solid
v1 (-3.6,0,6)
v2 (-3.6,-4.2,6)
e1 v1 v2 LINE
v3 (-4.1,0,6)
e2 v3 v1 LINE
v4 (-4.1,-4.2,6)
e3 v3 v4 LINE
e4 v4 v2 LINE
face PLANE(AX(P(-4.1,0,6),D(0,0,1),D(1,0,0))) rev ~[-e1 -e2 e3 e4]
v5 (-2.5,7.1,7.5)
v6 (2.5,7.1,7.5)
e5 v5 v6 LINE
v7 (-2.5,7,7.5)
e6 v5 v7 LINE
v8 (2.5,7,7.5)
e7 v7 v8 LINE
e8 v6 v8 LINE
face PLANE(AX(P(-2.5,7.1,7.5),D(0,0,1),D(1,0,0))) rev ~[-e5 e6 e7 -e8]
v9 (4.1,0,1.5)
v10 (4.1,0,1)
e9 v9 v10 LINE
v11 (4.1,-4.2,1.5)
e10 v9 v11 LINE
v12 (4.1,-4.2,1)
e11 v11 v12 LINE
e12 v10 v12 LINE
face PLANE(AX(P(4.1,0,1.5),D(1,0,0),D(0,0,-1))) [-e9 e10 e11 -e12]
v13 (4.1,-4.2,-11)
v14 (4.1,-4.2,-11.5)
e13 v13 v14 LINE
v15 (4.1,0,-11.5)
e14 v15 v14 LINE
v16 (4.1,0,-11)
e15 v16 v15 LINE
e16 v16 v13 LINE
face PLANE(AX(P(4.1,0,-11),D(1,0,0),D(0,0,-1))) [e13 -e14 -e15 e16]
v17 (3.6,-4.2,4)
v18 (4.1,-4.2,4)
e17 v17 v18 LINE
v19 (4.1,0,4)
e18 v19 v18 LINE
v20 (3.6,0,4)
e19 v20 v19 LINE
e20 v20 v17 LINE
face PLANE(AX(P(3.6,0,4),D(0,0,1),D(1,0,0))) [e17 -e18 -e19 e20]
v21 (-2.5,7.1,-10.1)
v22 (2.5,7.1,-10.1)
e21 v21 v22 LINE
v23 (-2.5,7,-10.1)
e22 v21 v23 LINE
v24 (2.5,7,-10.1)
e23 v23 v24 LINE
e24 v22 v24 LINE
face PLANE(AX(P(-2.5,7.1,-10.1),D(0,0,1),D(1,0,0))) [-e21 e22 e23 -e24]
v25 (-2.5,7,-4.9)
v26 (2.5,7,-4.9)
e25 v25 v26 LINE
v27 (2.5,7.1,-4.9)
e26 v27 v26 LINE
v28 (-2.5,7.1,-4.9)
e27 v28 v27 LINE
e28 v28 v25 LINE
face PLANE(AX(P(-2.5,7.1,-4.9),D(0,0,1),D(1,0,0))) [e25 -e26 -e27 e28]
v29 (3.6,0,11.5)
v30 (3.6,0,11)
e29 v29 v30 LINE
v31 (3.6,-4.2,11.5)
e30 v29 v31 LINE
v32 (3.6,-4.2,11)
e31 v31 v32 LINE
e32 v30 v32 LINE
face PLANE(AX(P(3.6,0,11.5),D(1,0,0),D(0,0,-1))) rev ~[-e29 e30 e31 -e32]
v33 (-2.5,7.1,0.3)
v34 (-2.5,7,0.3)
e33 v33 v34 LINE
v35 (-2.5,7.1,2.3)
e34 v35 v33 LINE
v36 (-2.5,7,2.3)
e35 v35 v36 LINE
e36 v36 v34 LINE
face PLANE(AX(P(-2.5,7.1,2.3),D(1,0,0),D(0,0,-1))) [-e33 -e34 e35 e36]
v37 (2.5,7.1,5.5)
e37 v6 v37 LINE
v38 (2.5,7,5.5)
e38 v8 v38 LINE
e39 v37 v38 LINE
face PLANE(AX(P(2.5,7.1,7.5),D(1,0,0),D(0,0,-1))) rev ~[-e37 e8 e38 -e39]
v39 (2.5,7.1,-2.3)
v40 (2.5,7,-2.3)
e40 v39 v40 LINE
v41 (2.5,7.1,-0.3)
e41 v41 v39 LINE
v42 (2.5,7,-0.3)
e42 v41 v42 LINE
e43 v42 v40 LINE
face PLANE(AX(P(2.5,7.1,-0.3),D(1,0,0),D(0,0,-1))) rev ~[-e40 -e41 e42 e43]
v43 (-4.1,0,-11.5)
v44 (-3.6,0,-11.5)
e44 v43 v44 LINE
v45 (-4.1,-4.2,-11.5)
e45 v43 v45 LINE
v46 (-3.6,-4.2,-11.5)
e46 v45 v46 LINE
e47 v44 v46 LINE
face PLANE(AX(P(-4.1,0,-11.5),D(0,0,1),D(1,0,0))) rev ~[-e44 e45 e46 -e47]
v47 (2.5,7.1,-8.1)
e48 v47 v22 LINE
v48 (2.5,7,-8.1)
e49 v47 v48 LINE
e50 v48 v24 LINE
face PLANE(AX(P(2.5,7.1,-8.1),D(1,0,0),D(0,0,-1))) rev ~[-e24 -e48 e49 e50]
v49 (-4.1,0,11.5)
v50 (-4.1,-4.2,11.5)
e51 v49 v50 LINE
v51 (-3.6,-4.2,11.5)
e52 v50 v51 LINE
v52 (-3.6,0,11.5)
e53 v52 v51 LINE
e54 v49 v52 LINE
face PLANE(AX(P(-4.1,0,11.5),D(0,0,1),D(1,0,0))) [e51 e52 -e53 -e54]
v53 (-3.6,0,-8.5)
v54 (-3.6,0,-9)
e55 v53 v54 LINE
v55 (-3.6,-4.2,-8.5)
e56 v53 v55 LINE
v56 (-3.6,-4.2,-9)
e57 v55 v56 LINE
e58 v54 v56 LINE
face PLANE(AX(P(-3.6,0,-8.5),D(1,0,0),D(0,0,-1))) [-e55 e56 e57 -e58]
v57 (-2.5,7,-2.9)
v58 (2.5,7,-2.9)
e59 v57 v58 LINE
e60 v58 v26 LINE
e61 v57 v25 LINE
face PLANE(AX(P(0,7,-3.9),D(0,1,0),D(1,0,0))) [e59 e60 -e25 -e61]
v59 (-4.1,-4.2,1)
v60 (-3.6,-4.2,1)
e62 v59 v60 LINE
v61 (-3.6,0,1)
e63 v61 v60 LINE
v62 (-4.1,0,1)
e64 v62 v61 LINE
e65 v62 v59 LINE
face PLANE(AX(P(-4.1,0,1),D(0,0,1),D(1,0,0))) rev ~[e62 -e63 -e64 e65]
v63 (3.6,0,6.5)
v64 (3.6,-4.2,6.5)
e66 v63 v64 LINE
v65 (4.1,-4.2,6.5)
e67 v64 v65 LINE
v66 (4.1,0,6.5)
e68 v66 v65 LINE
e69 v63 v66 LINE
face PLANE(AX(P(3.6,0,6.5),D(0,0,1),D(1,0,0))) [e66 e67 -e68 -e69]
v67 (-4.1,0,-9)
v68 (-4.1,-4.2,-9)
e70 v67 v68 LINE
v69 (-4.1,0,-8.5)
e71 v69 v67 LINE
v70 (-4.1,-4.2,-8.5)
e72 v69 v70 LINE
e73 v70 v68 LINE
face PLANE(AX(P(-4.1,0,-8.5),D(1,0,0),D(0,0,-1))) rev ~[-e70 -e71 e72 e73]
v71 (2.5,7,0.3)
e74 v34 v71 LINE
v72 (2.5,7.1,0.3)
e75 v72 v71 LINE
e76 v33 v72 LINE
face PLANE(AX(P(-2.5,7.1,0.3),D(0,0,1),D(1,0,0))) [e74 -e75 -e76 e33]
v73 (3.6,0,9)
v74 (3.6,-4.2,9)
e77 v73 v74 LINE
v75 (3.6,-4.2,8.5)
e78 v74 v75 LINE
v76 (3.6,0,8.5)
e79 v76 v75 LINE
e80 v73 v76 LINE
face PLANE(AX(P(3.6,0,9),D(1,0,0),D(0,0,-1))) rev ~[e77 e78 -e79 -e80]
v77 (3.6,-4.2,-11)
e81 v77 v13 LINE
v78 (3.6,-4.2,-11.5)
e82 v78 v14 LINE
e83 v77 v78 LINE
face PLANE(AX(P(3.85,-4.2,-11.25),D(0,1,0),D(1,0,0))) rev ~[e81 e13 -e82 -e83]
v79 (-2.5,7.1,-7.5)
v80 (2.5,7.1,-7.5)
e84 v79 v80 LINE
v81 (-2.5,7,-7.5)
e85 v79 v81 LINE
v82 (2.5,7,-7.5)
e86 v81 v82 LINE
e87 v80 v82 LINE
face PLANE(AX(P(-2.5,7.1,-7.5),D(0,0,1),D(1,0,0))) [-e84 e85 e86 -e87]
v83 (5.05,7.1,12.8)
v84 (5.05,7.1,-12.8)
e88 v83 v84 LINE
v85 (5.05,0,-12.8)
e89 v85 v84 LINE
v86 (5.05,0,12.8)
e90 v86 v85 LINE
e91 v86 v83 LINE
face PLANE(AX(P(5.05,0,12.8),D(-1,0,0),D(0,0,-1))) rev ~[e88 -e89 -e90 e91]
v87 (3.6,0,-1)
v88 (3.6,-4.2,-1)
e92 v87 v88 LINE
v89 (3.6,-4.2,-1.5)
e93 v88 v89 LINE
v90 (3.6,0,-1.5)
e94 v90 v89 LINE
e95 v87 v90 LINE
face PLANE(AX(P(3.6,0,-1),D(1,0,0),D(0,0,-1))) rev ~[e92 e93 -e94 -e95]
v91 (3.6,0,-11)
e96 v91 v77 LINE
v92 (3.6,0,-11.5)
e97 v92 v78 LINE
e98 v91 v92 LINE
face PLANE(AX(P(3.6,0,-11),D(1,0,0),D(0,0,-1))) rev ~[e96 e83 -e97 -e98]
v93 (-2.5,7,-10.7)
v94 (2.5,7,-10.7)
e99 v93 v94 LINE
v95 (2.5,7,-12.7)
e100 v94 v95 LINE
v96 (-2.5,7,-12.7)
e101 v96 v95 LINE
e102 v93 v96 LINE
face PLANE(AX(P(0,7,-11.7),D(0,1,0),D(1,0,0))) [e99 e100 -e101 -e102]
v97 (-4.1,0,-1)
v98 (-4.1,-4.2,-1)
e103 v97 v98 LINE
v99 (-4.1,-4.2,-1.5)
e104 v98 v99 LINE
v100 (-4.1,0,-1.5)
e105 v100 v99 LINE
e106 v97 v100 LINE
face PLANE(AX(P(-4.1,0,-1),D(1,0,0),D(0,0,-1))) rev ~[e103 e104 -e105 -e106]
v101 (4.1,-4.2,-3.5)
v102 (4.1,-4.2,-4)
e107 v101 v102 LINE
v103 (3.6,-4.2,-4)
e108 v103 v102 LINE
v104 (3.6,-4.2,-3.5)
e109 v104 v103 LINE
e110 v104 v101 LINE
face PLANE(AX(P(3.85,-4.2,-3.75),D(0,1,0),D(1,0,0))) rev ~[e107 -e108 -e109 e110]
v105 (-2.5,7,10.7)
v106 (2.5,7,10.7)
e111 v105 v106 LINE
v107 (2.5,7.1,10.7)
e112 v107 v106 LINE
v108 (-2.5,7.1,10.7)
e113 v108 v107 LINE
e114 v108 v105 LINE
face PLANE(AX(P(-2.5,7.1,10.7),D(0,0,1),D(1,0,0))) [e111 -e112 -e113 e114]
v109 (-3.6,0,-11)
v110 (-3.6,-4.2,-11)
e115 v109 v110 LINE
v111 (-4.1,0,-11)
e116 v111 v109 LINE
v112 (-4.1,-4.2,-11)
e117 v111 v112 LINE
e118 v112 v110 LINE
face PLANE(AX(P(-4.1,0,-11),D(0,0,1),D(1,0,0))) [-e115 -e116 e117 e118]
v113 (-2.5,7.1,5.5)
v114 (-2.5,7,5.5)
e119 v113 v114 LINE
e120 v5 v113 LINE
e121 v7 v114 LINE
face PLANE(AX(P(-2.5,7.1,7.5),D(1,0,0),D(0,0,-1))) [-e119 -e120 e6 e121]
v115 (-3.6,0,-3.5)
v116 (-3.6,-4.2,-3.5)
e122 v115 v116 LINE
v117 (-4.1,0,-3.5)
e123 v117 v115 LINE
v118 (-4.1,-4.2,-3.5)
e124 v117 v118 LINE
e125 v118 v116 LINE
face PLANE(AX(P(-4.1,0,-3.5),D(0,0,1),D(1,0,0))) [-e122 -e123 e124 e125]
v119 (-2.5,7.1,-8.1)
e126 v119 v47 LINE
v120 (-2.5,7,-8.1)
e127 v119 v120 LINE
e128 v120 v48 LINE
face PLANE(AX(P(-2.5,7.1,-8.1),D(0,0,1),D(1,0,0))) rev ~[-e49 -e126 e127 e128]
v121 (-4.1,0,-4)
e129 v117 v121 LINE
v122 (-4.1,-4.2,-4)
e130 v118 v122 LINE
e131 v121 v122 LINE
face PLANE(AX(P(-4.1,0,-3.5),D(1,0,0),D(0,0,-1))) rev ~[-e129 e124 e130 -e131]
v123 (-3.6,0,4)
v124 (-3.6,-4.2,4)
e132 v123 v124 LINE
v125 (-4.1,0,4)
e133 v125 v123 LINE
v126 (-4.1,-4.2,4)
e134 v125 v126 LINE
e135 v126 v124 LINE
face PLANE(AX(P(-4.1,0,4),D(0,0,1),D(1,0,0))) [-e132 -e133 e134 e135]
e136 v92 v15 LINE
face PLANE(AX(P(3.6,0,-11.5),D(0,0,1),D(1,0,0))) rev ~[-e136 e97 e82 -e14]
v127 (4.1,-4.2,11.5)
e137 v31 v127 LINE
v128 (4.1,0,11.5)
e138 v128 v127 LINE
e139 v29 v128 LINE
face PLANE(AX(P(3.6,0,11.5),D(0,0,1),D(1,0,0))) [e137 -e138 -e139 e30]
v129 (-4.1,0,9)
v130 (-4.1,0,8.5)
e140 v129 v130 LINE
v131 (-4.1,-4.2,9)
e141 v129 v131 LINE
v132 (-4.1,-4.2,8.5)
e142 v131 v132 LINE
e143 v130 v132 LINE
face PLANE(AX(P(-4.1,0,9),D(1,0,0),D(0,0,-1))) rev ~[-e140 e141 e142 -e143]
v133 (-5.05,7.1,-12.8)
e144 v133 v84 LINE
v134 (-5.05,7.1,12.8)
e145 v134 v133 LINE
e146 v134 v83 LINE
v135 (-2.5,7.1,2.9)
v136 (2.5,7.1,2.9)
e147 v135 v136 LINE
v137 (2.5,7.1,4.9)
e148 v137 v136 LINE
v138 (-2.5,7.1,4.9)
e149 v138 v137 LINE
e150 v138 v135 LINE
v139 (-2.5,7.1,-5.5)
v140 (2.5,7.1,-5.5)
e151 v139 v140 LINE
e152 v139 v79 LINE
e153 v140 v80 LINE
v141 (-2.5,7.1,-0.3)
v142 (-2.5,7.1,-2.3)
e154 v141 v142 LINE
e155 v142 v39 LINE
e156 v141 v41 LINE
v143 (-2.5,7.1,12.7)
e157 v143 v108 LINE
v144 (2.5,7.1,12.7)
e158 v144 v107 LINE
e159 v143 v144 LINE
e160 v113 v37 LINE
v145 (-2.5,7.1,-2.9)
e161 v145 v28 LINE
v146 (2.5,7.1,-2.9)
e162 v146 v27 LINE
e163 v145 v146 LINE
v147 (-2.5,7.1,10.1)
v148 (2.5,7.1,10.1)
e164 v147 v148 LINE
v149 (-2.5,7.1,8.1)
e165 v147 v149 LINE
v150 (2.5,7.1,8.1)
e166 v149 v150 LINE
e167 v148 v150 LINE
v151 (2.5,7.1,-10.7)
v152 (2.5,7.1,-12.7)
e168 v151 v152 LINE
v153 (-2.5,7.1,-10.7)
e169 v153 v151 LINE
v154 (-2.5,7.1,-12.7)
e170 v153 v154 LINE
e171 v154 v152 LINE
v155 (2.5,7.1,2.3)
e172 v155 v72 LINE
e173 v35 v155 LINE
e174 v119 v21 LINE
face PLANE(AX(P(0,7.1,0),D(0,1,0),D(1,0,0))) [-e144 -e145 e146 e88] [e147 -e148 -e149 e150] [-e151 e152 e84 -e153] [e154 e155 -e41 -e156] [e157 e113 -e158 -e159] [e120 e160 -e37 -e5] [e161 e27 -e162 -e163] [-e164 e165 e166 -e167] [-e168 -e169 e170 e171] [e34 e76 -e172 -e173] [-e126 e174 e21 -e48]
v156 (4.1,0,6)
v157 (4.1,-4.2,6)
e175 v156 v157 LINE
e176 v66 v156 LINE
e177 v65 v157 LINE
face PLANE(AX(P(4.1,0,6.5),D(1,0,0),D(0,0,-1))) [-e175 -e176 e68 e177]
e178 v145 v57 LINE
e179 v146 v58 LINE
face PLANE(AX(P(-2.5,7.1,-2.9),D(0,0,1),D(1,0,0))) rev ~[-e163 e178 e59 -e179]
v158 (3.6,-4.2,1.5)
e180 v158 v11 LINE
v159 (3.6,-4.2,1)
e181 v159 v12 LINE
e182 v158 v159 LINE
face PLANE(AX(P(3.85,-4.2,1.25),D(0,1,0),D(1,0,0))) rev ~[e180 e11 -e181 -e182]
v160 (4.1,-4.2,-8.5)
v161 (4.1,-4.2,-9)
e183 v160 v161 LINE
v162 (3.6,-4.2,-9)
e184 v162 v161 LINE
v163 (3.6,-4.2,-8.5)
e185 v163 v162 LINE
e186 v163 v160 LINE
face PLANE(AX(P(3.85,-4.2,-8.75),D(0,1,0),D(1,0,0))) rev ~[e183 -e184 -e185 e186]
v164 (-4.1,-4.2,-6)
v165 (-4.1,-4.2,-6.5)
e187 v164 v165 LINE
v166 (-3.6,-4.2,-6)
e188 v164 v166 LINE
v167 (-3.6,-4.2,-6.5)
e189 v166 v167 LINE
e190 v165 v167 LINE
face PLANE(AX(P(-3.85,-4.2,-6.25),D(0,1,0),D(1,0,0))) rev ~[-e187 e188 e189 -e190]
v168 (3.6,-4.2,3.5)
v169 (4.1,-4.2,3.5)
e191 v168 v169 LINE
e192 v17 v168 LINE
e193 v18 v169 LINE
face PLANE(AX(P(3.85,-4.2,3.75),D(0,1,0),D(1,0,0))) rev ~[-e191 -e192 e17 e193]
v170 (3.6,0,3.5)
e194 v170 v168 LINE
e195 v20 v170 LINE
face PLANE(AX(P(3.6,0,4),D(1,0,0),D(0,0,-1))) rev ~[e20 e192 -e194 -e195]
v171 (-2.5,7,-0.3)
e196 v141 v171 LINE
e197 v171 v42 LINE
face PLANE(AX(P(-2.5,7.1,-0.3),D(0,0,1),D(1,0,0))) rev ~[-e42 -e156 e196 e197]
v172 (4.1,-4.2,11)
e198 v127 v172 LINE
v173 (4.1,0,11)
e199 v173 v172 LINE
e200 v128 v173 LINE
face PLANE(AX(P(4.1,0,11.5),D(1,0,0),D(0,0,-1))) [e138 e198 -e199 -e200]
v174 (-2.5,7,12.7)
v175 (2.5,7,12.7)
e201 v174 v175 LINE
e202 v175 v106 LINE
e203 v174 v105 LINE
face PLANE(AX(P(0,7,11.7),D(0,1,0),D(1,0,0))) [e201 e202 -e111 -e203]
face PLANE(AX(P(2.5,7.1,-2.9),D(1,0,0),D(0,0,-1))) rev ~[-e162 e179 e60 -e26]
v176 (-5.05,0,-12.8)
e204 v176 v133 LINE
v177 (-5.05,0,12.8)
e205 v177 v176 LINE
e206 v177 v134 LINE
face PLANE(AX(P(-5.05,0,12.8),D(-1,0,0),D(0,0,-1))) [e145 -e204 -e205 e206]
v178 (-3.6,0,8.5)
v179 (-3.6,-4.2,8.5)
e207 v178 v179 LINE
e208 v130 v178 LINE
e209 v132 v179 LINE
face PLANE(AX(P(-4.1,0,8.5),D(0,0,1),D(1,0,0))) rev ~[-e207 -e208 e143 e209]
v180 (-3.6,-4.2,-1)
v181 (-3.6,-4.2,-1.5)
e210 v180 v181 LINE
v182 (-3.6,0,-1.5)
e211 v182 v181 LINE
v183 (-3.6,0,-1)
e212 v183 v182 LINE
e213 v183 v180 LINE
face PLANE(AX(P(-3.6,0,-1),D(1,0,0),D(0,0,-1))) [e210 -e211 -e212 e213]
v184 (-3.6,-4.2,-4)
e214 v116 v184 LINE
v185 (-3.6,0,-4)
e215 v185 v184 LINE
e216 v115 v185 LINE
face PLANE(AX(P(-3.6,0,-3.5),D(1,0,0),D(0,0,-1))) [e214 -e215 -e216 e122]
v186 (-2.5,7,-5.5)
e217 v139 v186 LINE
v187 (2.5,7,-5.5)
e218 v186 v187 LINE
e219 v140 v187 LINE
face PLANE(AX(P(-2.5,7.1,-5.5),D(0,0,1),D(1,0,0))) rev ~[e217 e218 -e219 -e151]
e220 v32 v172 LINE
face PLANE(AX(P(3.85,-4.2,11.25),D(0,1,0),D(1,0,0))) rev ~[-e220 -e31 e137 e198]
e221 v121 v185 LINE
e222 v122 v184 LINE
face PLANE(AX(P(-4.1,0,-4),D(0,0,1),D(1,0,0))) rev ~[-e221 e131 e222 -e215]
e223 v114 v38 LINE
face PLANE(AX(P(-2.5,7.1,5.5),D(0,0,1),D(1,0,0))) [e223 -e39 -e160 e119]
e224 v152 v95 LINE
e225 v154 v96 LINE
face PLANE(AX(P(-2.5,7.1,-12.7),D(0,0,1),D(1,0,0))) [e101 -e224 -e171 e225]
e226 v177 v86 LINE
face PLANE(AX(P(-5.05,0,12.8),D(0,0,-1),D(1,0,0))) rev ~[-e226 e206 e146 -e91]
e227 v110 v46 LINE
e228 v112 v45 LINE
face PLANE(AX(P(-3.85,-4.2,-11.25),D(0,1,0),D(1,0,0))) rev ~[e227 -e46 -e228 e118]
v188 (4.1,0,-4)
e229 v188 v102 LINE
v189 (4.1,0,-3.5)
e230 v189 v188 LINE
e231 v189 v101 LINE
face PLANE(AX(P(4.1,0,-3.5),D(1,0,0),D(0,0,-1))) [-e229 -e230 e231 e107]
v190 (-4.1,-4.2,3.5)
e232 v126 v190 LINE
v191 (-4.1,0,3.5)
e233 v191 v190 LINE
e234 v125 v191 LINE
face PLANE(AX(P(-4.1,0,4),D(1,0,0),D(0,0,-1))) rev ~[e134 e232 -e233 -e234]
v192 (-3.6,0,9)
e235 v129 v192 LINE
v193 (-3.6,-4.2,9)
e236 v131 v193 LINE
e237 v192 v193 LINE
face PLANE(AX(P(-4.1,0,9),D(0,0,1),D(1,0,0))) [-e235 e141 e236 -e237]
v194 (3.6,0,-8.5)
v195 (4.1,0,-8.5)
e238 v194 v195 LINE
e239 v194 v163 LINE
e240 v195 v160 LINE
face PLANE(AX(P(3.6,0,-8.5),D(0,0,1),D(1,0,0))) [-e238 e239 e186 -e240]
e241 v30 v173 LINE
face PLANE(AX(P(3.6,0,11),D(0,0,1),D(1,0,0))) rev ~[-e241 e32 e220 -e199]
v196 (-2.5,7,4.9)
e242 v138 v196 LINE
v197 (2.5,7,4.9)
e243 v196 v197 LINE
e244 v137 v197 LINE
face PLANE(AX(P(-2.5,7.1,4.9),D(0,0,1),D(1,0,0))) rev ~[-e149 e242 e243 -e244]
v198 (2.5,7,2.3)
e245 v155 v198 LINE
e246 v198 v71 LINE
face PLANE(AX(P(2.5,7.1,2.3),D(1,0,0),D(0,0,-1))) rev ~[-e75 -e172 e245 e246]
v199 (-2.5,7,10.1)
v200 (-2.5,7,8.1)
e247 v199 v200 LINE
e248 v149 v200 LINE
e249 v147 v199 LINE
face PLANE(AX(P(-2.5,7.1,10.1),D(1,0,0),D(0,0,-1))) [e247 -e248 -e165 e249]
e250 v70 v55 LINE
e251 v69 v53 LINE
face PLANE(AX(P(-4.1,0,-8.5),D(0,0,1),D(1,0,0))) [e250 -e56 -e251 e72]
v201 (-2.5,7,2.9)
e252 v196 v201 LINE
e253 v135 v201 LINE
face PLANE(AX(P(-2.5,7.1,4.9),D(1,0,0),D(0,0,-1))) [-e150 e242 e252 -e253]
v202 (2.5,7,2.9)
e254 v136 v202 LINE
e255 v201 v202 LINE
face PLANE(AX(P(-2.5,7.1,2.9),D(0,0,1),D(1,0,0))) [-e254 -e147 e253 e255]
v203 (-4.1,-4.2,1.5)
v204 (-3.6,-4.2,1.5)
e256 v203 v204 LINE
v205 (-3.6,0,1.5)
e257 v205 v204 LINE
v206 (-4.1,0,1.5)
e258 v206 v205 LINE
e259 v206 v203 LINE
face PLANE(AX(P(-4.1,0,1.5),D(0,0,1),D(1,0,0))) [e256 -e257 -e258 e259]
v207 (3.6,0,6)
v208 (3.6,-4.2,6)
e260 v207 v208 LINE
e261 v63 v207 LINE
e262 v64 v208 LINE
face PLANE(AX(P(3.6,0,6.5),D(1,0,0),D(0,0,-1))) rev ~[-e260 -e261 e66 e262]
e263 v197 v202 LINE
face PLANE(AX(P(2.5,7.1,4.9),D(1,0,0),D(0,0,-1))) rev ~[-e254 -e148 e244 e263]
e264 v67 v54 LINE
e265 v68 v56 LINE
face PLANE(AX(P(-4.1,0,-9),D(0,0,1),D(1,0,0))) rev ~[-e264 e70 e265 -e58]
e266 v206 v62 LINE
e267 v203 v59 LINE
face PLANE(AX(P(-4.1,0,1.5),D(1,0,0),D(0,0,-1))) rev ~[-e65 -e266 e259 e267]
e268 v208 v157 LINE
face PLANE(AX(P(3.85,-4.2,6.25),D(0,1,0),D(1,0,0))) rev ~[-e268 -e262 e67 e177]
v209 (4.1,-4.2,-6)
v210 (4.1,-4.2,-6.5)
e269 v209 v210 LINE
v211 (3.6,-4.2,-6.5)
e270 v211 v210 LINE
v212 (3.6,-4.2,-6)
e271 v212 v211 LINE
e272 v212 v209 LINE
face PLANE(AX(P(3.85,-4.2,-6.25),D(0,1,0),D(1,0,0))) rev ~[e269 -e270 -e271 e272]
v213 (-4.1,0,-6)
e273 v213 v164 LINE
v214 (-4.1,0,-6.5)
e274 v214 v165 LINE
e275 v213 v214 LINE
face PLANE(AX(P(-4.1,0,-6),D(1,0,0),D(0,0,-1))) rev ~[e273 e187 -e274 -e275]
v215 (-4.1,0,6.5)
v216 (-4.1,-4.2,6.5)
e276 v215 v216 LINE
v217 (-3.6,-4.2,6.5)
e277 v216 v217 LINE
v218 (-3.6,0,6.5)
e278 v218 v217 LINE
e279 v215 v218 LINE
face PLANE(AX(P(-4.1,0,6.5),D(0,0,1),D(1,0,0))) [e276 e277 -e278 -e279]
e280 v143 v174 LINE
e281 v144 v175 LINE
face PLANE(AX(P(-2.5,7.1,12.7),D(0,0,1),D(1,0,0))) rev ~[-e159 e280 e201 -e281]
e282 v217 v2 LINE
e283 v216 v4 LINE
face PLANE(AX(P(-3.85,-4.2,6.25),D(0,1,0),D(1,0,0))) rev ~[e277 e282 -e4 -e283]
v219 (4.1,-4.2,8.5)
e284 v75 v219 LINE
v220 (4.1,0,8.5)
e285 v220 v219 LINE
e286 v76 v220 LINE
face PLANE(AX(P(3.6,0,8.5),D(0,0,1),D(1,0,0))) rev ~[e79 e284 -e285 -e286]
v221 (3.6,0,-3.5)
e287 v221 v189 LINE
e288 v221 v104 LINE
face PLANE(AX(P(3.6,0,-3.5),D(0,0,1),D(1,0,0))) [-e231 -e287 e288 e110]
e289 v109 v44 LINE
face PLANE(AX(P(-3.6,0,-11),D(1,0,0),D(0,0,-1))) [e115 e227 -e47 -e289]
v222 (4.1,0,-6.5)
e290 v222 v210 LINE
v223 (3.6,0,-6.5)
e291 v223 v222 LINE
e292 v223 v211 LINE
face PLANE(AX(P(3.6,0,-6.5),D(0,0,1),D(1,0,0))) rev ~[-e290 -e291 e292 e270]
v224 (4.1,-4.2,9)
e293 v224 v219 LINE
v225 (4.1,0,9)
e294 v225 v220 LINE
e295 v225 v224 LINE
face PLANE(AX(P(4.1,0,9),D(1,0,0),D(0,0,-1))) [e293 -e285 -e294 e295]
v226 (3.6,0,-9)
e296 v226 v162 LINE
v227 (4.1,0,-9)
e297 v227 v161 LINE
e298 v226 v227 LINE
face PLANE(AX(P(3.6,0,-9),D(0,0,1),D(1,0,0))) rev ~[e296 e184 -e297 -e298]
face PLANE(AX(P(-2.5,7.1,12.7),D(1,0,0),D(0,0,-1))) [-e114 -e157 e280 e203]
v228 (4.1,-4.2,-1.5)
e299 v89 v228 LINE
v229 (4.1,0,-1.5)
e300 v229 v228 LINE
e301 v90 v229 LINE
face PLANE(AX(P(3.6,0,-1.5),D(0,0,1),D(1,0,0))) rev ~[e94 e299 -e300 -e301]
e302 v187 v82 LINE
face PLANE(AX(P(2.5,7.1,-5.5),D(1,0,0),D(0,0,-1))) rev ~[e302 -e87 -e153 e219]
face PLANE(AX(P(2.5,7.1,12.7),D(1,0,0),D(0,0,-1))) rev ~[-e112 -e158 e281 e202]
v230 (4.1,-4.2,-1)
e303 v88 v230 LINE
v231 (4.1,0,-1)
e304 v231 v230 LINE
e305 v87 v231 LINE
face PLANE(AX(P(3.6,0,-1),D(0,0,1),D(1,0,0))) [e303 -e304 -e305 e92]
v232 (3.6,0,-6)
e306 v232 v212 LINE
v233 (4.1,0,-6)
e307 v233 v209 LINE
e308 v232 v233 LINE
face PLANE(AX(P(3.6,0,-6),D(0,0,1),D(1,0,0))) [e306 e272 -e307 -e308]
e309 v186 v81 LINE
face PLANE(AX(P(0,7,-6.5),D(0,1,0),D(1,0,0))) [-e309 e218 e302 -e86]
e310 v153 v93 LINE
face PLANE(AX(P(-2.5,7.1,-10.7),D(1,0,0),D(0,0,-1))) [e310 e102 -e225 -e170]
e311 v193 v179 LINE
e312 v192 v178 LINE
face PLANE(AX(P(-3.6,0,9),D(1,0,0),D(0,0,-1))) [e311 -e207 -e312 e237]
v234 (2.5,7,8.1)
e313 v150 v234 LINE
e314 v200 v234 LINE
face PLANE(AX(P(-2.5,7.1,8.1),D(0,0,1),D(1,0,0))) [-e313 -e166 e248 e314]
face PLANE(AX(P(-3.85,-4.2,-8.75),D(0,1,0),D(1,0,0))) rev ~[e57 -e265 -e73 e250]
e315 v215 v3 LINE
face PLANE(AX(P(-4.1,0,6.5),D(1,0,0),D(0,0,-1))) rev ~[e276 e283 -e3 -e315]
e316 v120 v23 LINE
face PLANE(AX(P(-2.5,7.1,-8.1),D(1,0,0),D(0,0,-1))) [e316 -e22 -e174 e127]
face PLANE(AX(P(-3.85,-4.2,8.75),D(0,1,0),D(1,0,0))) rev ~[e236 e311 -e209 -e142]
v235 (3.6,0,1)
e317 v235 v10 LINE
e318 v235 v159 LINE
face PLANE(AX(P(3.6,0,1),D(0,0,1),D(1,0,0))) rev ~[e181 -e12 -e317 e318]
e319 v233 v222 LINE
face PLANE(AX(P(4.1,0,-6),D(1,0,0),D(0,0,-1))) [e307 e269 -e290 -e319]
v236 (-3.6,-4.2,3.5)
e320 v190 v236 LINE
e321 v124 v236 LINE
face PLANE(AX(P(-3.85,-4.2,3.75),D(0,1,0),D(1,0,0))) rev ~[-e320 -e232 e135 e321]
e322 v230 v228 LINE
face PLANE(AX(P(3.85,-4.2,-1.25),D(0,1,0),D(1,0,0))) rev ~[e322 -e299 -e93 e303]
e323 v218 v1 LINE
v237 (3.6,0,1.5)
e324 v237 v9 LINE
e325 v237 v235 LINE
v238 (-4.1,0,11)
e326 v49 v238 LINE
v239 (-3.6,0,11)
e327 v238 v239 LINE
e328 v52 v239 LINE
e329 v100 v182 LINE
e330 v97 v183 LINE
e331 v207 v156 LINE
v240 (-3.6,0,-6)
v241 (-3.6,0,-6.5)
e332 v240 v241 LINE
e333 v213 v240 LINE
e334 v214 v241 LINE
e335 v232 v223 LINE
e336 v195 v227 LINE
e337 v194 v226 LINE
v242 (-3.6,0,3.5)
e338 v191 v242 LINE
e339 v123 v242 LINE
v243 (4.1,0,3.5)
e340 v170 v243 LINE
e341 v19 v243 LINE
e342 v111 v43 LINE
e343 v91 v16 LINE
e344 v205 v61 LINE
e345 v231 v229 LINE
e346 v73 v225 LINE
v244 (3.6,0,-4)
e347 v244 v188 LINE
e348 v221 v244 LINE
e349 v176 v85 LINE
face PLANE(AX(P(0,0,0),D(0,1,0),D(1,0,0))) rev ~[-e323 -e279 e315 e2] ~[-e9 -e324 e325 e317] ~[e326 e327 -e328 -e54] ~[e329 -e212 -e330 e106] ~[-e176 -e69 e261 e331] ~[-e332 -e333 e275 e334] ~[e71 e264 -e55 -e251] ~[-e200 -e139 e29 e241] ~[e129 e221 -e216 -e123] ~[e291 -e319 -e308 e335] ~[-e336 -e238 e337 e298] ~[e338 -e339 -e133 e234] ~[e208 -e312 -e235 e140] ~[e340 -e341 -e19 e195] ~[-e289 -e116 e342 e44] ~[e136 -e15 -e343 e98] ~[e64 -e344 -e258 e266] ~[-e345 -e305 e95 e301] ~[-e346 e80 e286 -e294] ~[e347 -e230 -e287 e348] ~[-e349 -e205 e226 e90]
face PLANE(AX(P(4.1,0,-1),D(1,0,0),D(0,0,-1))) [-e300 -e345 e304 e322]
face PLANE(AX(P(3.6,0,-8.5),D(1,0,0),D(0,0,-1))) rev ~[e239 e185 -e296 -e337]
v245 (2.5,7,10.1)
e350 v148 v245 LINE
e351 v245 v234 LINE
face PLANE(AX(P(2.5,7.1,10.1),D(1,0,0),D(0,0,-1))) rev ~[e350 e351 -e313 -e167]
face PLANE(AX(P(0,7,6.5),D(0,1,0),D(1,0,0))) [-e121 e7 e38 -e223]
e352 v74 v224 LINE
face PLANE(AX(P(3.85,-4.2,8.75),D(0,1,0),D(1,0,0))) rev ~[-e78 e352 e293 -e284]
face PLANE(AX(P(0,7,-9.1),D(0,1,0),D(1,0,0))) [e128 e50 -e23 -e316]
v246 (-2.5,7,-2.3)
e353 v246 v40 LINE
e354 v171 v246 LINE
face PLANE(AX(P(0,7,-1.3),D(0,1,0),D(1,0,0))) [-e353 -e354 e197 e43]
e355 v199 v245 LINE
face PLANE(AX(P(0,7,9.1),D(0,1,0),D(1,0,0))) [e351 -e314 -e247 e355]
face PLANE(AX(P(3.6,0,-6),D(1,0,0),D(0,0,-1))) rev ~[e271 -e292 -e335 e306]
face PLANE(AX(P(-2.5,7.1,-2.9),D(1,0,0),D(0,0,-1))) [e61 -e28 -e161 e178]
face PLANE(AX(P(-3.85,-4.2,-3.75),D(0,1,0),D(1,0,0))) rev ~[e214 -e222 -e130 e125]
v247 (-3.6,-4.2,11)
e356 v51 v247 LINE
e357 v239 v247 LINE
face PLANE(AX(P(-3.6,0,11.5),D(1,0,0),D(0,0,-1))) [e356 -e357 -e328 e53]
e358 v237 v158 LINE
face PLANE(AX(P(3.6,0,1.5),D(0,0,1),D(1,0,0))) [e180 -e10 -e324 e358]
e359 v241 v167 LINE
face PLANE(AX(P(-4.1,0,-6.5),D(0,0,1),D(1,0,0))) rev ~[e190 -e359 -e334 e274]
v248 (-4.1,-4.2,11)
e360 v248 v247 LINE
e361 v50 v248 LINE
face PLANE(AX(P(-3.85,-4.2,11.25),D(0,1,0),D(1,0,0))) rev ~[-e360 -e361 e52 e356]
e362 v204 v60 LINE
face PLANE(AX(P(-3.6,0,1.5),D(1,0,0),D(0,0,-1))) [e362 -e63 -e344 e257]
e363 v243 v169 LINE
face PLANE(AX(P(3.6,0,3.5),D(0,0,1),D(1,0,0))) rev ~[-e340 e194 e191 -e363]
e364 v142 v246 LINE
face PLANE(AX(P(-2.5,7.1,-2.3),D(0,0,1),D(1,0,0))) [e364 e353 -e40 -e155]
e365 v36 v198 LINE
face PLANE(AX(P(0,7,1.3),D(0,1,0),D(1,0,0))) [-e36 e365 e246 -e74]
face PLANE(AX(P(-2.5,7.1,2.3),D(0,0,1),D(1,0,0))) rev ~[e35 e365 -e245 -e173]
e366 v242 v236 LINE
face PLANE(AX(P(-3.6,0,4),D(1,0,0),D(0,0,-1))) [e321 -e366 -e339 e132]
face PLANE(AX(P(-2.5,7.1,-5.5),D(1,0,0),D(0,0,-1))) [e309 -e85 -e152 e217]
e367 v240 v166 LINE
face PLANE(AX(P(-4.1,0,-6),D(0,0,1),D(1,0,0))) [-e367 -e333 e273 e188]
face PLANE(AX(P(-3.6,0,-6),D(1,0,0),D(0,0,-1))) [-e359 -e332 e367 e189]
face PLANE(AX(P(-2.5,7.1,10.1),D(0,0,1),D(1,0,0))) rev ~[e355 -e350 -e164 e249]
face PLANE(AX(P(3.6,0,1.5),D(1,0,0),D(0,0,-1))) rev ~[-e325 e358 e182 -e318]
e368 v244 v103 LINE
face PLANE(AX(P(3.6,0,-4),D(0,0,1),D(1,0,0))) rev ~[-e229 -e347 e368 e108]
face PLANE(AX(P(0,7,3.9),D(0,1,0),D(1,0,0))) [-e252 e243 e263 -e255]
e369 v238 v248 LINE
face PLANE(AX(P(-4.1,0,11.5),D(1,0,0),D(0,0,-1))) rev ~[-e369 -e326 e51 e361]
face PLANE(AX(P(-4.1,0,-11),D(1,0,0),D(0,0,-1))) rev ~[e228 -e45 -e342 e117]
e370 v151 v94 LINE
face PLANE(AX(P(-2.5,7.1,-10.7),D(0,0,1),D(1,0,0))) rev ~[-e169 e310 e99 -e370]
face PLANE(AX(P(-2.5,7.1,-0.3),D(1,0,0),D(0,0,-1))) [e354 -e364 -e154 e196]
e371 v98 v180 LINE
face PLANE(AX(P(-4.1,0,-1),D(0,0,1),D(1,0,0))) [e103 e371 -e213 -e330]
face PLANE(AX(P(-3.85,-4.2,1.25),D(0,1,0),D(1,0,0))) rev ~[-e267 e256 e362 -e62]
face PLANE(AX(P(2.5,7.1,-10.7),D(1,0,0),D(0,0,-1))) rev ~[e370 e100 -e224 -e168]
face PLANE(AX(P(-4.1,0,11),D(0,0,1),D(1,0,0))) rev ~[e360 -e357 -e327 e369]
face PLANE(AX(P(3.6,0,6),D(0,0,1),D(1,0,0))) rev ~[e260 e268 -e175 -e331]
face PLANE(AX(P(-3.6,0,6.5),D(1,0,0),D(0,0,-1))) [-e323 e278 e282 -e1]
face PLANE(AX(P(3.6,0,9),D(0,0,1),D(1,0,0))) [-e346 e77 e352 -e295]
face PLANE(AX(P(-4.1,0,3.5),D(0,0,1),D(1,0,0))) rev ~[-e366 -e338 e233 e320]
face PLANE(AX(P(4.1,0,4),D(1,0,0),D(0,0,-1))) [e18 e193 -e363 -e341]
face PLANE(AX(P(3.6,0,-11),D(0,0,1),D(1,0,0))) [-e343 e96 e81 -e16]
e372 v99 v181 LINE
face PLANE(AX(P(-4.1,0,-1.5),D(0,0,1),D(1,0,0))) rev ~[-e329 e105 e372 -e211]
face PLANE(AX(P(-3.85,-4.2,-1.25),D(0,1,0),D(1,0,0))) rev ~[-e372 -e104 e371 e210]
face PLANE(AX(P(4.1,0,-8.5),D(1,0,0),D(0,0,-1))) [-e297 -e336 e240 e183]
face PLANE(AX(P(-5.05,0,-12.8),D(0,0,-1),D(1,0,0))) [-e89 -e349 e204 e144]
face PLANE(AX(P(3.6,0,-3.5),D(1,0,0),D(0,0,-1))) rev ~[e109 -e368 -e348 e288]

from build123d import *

# Parameters (mm, degrees)
SKETCH1_W           = 10.1
SKETCH1_H           = 25.6
BOSS_EXTRUDE1_DEPTH = 7.1
SKETCH2_W           = 0.5
SKETCH2_H           = 0.5
BOSS_EXTRUDE2_DEPTH = 4.2
SKETCH3_W           = 5
SKETCH3_H           = 2
CUT_EXTRUDE1_DEPTH  = 0.1


with BuildPart() as part:
    # Sketch1 → Boss-Extrude1 (new body)
    with BuildSketch(Plane(origin=(0, 0, 0), x_dir=(1, 0, 0), z_dir=(0, 1, 0))):
        Rectangle(SKETCH1_W, SKETCH1_H)
    extrude(amount=BOSS_EXTRUDE1_DEPTH)

    # Sketch2 → Boss-Extrude2 (add)
    with BuildSketch(Plane(origin=(0, 0, 0), x_dir=(1, 0, 0), z_dir=(0, 1, 0))):
        with Locations((3.85, -11.25)):
            Rectangle(SKETCH2_W, SKETCH2_H)
        with Locations((-3.85, -11.25)):
            Rectangle(SKETCH2_W, SKETCH2_H)
        with Locations((3.85, -8.75)):
            Rectangle(SKETCH2_W, SKETCH2_H)
        with Locations((3.85, -6.25)):
            Rectangle(SKETCH2_W, SKETCH2_H)
        with Locations((3.85, -3.75)):
            Rectangle(SKETCH2_W, SKETCH2_H)
        with Locations((3.85, -1.25)):
            Rectangle(SKETCH2_W, SKETCH2_H)
        with Locations((3.85, 1.25)):
            Rectangle(SKETCH2_W, SKETCH2_H)
        with Locations((3.85, 3.75)):
            Rectangle(SKETCH2_W, SKETCH2_H)
        with Locations((3.85, 6.25)):
            Rectangle(SKETCH2_W, SKETCH2_H)
        with Locations((3.85, 8.75)):
            Rectangle(SKETCH2_W, SKETCH2_H)
        with Locations((3.85, 11.25)):
            Rectangle(SKETCH2_W, SKETCH2_H)
        with Locations((-3.85, -8.75)):
            Rectangle(SKETCH2_W, SKETCH2_H)
        with Locations((-3.85, -6.25)):
            Rectangle(SKETCH2_W, SKETCH2_H)
        with Locations((-3.85, -3.75)):
            Rectangle(SKETCH2_W, SKETCH2_H)
        with Locations((-3.85, -1.25)):
            Rectangle(SKETCH2_W, SKETCH2_H)
        with Locations((-3.85, 1.25)):
            Rectangle(SKETCH2_W, SKETCH2_H)
        with Locations((-3.85, 3.75)):
            Rectangle(SKETCH2_W, SKETCH2_H)
        with Locations((-3.85, 6.25)):
            Rectangle(SKETCH2_W, SKETCH2_H)
        with Locations((-3.85, 8.75)):
            Rectangle(SKETCH2_W, SKETCH2_H)
        with Locations((-3.85, 11.25)):
            Rectangle(SKETCH2_W, SKETCH2_H)
    extrude(amount=-BOSS_EXTRUDE2_DEPTH)

    # Sketch3 → Cut-Extrude1 (cut)
    with BuildSketch(Plane(origin=(0, 7.1, 0), x_dir=(1, 0, 0), z_dir=(0, 1, 0))):
        with Locations((0, 9.1)):
            Rectangle(SKETCH3_W, SKETCH3_H)
        with Locations((0, 11.7)):
            Rectangle(SKETCH3_W, SKETCH3_H)
        with Locations((0, 6.5)):
            Rectangle(SKETCH3_W, SKETCH3_H)
        with Locations((0, 3.9)):
            Rectangle(SKETCH3_W, SKETCH3_H)
        with Locations((0, 1.3)):
            Rectangle(SKETCH3_W, SKETCH3_H)
        with Locations((0, -1.3)):
            Rectangle(SKETCH3_W, SKETCH3_H)
        with Locations((0, -3.9)):
            Rectangle(SKETCH3_W, SKETCH3_H)
        with Locations((0, -6.5)):
            Rectangle(SKETCH3_W, SKETCH3_H)
        with Locations((0, -9.1)):
            Rectangle(SKETCH3_W, SKETCH3_H)
        with Locations((0, -11.7)):
            Rectangle(SKETCH3_W, SKETCH3_H)
    extrude(amount=-CUT_EXTRUDE1_DEPTH, mode=Mode.SUBTRACT)


solid = part.part
